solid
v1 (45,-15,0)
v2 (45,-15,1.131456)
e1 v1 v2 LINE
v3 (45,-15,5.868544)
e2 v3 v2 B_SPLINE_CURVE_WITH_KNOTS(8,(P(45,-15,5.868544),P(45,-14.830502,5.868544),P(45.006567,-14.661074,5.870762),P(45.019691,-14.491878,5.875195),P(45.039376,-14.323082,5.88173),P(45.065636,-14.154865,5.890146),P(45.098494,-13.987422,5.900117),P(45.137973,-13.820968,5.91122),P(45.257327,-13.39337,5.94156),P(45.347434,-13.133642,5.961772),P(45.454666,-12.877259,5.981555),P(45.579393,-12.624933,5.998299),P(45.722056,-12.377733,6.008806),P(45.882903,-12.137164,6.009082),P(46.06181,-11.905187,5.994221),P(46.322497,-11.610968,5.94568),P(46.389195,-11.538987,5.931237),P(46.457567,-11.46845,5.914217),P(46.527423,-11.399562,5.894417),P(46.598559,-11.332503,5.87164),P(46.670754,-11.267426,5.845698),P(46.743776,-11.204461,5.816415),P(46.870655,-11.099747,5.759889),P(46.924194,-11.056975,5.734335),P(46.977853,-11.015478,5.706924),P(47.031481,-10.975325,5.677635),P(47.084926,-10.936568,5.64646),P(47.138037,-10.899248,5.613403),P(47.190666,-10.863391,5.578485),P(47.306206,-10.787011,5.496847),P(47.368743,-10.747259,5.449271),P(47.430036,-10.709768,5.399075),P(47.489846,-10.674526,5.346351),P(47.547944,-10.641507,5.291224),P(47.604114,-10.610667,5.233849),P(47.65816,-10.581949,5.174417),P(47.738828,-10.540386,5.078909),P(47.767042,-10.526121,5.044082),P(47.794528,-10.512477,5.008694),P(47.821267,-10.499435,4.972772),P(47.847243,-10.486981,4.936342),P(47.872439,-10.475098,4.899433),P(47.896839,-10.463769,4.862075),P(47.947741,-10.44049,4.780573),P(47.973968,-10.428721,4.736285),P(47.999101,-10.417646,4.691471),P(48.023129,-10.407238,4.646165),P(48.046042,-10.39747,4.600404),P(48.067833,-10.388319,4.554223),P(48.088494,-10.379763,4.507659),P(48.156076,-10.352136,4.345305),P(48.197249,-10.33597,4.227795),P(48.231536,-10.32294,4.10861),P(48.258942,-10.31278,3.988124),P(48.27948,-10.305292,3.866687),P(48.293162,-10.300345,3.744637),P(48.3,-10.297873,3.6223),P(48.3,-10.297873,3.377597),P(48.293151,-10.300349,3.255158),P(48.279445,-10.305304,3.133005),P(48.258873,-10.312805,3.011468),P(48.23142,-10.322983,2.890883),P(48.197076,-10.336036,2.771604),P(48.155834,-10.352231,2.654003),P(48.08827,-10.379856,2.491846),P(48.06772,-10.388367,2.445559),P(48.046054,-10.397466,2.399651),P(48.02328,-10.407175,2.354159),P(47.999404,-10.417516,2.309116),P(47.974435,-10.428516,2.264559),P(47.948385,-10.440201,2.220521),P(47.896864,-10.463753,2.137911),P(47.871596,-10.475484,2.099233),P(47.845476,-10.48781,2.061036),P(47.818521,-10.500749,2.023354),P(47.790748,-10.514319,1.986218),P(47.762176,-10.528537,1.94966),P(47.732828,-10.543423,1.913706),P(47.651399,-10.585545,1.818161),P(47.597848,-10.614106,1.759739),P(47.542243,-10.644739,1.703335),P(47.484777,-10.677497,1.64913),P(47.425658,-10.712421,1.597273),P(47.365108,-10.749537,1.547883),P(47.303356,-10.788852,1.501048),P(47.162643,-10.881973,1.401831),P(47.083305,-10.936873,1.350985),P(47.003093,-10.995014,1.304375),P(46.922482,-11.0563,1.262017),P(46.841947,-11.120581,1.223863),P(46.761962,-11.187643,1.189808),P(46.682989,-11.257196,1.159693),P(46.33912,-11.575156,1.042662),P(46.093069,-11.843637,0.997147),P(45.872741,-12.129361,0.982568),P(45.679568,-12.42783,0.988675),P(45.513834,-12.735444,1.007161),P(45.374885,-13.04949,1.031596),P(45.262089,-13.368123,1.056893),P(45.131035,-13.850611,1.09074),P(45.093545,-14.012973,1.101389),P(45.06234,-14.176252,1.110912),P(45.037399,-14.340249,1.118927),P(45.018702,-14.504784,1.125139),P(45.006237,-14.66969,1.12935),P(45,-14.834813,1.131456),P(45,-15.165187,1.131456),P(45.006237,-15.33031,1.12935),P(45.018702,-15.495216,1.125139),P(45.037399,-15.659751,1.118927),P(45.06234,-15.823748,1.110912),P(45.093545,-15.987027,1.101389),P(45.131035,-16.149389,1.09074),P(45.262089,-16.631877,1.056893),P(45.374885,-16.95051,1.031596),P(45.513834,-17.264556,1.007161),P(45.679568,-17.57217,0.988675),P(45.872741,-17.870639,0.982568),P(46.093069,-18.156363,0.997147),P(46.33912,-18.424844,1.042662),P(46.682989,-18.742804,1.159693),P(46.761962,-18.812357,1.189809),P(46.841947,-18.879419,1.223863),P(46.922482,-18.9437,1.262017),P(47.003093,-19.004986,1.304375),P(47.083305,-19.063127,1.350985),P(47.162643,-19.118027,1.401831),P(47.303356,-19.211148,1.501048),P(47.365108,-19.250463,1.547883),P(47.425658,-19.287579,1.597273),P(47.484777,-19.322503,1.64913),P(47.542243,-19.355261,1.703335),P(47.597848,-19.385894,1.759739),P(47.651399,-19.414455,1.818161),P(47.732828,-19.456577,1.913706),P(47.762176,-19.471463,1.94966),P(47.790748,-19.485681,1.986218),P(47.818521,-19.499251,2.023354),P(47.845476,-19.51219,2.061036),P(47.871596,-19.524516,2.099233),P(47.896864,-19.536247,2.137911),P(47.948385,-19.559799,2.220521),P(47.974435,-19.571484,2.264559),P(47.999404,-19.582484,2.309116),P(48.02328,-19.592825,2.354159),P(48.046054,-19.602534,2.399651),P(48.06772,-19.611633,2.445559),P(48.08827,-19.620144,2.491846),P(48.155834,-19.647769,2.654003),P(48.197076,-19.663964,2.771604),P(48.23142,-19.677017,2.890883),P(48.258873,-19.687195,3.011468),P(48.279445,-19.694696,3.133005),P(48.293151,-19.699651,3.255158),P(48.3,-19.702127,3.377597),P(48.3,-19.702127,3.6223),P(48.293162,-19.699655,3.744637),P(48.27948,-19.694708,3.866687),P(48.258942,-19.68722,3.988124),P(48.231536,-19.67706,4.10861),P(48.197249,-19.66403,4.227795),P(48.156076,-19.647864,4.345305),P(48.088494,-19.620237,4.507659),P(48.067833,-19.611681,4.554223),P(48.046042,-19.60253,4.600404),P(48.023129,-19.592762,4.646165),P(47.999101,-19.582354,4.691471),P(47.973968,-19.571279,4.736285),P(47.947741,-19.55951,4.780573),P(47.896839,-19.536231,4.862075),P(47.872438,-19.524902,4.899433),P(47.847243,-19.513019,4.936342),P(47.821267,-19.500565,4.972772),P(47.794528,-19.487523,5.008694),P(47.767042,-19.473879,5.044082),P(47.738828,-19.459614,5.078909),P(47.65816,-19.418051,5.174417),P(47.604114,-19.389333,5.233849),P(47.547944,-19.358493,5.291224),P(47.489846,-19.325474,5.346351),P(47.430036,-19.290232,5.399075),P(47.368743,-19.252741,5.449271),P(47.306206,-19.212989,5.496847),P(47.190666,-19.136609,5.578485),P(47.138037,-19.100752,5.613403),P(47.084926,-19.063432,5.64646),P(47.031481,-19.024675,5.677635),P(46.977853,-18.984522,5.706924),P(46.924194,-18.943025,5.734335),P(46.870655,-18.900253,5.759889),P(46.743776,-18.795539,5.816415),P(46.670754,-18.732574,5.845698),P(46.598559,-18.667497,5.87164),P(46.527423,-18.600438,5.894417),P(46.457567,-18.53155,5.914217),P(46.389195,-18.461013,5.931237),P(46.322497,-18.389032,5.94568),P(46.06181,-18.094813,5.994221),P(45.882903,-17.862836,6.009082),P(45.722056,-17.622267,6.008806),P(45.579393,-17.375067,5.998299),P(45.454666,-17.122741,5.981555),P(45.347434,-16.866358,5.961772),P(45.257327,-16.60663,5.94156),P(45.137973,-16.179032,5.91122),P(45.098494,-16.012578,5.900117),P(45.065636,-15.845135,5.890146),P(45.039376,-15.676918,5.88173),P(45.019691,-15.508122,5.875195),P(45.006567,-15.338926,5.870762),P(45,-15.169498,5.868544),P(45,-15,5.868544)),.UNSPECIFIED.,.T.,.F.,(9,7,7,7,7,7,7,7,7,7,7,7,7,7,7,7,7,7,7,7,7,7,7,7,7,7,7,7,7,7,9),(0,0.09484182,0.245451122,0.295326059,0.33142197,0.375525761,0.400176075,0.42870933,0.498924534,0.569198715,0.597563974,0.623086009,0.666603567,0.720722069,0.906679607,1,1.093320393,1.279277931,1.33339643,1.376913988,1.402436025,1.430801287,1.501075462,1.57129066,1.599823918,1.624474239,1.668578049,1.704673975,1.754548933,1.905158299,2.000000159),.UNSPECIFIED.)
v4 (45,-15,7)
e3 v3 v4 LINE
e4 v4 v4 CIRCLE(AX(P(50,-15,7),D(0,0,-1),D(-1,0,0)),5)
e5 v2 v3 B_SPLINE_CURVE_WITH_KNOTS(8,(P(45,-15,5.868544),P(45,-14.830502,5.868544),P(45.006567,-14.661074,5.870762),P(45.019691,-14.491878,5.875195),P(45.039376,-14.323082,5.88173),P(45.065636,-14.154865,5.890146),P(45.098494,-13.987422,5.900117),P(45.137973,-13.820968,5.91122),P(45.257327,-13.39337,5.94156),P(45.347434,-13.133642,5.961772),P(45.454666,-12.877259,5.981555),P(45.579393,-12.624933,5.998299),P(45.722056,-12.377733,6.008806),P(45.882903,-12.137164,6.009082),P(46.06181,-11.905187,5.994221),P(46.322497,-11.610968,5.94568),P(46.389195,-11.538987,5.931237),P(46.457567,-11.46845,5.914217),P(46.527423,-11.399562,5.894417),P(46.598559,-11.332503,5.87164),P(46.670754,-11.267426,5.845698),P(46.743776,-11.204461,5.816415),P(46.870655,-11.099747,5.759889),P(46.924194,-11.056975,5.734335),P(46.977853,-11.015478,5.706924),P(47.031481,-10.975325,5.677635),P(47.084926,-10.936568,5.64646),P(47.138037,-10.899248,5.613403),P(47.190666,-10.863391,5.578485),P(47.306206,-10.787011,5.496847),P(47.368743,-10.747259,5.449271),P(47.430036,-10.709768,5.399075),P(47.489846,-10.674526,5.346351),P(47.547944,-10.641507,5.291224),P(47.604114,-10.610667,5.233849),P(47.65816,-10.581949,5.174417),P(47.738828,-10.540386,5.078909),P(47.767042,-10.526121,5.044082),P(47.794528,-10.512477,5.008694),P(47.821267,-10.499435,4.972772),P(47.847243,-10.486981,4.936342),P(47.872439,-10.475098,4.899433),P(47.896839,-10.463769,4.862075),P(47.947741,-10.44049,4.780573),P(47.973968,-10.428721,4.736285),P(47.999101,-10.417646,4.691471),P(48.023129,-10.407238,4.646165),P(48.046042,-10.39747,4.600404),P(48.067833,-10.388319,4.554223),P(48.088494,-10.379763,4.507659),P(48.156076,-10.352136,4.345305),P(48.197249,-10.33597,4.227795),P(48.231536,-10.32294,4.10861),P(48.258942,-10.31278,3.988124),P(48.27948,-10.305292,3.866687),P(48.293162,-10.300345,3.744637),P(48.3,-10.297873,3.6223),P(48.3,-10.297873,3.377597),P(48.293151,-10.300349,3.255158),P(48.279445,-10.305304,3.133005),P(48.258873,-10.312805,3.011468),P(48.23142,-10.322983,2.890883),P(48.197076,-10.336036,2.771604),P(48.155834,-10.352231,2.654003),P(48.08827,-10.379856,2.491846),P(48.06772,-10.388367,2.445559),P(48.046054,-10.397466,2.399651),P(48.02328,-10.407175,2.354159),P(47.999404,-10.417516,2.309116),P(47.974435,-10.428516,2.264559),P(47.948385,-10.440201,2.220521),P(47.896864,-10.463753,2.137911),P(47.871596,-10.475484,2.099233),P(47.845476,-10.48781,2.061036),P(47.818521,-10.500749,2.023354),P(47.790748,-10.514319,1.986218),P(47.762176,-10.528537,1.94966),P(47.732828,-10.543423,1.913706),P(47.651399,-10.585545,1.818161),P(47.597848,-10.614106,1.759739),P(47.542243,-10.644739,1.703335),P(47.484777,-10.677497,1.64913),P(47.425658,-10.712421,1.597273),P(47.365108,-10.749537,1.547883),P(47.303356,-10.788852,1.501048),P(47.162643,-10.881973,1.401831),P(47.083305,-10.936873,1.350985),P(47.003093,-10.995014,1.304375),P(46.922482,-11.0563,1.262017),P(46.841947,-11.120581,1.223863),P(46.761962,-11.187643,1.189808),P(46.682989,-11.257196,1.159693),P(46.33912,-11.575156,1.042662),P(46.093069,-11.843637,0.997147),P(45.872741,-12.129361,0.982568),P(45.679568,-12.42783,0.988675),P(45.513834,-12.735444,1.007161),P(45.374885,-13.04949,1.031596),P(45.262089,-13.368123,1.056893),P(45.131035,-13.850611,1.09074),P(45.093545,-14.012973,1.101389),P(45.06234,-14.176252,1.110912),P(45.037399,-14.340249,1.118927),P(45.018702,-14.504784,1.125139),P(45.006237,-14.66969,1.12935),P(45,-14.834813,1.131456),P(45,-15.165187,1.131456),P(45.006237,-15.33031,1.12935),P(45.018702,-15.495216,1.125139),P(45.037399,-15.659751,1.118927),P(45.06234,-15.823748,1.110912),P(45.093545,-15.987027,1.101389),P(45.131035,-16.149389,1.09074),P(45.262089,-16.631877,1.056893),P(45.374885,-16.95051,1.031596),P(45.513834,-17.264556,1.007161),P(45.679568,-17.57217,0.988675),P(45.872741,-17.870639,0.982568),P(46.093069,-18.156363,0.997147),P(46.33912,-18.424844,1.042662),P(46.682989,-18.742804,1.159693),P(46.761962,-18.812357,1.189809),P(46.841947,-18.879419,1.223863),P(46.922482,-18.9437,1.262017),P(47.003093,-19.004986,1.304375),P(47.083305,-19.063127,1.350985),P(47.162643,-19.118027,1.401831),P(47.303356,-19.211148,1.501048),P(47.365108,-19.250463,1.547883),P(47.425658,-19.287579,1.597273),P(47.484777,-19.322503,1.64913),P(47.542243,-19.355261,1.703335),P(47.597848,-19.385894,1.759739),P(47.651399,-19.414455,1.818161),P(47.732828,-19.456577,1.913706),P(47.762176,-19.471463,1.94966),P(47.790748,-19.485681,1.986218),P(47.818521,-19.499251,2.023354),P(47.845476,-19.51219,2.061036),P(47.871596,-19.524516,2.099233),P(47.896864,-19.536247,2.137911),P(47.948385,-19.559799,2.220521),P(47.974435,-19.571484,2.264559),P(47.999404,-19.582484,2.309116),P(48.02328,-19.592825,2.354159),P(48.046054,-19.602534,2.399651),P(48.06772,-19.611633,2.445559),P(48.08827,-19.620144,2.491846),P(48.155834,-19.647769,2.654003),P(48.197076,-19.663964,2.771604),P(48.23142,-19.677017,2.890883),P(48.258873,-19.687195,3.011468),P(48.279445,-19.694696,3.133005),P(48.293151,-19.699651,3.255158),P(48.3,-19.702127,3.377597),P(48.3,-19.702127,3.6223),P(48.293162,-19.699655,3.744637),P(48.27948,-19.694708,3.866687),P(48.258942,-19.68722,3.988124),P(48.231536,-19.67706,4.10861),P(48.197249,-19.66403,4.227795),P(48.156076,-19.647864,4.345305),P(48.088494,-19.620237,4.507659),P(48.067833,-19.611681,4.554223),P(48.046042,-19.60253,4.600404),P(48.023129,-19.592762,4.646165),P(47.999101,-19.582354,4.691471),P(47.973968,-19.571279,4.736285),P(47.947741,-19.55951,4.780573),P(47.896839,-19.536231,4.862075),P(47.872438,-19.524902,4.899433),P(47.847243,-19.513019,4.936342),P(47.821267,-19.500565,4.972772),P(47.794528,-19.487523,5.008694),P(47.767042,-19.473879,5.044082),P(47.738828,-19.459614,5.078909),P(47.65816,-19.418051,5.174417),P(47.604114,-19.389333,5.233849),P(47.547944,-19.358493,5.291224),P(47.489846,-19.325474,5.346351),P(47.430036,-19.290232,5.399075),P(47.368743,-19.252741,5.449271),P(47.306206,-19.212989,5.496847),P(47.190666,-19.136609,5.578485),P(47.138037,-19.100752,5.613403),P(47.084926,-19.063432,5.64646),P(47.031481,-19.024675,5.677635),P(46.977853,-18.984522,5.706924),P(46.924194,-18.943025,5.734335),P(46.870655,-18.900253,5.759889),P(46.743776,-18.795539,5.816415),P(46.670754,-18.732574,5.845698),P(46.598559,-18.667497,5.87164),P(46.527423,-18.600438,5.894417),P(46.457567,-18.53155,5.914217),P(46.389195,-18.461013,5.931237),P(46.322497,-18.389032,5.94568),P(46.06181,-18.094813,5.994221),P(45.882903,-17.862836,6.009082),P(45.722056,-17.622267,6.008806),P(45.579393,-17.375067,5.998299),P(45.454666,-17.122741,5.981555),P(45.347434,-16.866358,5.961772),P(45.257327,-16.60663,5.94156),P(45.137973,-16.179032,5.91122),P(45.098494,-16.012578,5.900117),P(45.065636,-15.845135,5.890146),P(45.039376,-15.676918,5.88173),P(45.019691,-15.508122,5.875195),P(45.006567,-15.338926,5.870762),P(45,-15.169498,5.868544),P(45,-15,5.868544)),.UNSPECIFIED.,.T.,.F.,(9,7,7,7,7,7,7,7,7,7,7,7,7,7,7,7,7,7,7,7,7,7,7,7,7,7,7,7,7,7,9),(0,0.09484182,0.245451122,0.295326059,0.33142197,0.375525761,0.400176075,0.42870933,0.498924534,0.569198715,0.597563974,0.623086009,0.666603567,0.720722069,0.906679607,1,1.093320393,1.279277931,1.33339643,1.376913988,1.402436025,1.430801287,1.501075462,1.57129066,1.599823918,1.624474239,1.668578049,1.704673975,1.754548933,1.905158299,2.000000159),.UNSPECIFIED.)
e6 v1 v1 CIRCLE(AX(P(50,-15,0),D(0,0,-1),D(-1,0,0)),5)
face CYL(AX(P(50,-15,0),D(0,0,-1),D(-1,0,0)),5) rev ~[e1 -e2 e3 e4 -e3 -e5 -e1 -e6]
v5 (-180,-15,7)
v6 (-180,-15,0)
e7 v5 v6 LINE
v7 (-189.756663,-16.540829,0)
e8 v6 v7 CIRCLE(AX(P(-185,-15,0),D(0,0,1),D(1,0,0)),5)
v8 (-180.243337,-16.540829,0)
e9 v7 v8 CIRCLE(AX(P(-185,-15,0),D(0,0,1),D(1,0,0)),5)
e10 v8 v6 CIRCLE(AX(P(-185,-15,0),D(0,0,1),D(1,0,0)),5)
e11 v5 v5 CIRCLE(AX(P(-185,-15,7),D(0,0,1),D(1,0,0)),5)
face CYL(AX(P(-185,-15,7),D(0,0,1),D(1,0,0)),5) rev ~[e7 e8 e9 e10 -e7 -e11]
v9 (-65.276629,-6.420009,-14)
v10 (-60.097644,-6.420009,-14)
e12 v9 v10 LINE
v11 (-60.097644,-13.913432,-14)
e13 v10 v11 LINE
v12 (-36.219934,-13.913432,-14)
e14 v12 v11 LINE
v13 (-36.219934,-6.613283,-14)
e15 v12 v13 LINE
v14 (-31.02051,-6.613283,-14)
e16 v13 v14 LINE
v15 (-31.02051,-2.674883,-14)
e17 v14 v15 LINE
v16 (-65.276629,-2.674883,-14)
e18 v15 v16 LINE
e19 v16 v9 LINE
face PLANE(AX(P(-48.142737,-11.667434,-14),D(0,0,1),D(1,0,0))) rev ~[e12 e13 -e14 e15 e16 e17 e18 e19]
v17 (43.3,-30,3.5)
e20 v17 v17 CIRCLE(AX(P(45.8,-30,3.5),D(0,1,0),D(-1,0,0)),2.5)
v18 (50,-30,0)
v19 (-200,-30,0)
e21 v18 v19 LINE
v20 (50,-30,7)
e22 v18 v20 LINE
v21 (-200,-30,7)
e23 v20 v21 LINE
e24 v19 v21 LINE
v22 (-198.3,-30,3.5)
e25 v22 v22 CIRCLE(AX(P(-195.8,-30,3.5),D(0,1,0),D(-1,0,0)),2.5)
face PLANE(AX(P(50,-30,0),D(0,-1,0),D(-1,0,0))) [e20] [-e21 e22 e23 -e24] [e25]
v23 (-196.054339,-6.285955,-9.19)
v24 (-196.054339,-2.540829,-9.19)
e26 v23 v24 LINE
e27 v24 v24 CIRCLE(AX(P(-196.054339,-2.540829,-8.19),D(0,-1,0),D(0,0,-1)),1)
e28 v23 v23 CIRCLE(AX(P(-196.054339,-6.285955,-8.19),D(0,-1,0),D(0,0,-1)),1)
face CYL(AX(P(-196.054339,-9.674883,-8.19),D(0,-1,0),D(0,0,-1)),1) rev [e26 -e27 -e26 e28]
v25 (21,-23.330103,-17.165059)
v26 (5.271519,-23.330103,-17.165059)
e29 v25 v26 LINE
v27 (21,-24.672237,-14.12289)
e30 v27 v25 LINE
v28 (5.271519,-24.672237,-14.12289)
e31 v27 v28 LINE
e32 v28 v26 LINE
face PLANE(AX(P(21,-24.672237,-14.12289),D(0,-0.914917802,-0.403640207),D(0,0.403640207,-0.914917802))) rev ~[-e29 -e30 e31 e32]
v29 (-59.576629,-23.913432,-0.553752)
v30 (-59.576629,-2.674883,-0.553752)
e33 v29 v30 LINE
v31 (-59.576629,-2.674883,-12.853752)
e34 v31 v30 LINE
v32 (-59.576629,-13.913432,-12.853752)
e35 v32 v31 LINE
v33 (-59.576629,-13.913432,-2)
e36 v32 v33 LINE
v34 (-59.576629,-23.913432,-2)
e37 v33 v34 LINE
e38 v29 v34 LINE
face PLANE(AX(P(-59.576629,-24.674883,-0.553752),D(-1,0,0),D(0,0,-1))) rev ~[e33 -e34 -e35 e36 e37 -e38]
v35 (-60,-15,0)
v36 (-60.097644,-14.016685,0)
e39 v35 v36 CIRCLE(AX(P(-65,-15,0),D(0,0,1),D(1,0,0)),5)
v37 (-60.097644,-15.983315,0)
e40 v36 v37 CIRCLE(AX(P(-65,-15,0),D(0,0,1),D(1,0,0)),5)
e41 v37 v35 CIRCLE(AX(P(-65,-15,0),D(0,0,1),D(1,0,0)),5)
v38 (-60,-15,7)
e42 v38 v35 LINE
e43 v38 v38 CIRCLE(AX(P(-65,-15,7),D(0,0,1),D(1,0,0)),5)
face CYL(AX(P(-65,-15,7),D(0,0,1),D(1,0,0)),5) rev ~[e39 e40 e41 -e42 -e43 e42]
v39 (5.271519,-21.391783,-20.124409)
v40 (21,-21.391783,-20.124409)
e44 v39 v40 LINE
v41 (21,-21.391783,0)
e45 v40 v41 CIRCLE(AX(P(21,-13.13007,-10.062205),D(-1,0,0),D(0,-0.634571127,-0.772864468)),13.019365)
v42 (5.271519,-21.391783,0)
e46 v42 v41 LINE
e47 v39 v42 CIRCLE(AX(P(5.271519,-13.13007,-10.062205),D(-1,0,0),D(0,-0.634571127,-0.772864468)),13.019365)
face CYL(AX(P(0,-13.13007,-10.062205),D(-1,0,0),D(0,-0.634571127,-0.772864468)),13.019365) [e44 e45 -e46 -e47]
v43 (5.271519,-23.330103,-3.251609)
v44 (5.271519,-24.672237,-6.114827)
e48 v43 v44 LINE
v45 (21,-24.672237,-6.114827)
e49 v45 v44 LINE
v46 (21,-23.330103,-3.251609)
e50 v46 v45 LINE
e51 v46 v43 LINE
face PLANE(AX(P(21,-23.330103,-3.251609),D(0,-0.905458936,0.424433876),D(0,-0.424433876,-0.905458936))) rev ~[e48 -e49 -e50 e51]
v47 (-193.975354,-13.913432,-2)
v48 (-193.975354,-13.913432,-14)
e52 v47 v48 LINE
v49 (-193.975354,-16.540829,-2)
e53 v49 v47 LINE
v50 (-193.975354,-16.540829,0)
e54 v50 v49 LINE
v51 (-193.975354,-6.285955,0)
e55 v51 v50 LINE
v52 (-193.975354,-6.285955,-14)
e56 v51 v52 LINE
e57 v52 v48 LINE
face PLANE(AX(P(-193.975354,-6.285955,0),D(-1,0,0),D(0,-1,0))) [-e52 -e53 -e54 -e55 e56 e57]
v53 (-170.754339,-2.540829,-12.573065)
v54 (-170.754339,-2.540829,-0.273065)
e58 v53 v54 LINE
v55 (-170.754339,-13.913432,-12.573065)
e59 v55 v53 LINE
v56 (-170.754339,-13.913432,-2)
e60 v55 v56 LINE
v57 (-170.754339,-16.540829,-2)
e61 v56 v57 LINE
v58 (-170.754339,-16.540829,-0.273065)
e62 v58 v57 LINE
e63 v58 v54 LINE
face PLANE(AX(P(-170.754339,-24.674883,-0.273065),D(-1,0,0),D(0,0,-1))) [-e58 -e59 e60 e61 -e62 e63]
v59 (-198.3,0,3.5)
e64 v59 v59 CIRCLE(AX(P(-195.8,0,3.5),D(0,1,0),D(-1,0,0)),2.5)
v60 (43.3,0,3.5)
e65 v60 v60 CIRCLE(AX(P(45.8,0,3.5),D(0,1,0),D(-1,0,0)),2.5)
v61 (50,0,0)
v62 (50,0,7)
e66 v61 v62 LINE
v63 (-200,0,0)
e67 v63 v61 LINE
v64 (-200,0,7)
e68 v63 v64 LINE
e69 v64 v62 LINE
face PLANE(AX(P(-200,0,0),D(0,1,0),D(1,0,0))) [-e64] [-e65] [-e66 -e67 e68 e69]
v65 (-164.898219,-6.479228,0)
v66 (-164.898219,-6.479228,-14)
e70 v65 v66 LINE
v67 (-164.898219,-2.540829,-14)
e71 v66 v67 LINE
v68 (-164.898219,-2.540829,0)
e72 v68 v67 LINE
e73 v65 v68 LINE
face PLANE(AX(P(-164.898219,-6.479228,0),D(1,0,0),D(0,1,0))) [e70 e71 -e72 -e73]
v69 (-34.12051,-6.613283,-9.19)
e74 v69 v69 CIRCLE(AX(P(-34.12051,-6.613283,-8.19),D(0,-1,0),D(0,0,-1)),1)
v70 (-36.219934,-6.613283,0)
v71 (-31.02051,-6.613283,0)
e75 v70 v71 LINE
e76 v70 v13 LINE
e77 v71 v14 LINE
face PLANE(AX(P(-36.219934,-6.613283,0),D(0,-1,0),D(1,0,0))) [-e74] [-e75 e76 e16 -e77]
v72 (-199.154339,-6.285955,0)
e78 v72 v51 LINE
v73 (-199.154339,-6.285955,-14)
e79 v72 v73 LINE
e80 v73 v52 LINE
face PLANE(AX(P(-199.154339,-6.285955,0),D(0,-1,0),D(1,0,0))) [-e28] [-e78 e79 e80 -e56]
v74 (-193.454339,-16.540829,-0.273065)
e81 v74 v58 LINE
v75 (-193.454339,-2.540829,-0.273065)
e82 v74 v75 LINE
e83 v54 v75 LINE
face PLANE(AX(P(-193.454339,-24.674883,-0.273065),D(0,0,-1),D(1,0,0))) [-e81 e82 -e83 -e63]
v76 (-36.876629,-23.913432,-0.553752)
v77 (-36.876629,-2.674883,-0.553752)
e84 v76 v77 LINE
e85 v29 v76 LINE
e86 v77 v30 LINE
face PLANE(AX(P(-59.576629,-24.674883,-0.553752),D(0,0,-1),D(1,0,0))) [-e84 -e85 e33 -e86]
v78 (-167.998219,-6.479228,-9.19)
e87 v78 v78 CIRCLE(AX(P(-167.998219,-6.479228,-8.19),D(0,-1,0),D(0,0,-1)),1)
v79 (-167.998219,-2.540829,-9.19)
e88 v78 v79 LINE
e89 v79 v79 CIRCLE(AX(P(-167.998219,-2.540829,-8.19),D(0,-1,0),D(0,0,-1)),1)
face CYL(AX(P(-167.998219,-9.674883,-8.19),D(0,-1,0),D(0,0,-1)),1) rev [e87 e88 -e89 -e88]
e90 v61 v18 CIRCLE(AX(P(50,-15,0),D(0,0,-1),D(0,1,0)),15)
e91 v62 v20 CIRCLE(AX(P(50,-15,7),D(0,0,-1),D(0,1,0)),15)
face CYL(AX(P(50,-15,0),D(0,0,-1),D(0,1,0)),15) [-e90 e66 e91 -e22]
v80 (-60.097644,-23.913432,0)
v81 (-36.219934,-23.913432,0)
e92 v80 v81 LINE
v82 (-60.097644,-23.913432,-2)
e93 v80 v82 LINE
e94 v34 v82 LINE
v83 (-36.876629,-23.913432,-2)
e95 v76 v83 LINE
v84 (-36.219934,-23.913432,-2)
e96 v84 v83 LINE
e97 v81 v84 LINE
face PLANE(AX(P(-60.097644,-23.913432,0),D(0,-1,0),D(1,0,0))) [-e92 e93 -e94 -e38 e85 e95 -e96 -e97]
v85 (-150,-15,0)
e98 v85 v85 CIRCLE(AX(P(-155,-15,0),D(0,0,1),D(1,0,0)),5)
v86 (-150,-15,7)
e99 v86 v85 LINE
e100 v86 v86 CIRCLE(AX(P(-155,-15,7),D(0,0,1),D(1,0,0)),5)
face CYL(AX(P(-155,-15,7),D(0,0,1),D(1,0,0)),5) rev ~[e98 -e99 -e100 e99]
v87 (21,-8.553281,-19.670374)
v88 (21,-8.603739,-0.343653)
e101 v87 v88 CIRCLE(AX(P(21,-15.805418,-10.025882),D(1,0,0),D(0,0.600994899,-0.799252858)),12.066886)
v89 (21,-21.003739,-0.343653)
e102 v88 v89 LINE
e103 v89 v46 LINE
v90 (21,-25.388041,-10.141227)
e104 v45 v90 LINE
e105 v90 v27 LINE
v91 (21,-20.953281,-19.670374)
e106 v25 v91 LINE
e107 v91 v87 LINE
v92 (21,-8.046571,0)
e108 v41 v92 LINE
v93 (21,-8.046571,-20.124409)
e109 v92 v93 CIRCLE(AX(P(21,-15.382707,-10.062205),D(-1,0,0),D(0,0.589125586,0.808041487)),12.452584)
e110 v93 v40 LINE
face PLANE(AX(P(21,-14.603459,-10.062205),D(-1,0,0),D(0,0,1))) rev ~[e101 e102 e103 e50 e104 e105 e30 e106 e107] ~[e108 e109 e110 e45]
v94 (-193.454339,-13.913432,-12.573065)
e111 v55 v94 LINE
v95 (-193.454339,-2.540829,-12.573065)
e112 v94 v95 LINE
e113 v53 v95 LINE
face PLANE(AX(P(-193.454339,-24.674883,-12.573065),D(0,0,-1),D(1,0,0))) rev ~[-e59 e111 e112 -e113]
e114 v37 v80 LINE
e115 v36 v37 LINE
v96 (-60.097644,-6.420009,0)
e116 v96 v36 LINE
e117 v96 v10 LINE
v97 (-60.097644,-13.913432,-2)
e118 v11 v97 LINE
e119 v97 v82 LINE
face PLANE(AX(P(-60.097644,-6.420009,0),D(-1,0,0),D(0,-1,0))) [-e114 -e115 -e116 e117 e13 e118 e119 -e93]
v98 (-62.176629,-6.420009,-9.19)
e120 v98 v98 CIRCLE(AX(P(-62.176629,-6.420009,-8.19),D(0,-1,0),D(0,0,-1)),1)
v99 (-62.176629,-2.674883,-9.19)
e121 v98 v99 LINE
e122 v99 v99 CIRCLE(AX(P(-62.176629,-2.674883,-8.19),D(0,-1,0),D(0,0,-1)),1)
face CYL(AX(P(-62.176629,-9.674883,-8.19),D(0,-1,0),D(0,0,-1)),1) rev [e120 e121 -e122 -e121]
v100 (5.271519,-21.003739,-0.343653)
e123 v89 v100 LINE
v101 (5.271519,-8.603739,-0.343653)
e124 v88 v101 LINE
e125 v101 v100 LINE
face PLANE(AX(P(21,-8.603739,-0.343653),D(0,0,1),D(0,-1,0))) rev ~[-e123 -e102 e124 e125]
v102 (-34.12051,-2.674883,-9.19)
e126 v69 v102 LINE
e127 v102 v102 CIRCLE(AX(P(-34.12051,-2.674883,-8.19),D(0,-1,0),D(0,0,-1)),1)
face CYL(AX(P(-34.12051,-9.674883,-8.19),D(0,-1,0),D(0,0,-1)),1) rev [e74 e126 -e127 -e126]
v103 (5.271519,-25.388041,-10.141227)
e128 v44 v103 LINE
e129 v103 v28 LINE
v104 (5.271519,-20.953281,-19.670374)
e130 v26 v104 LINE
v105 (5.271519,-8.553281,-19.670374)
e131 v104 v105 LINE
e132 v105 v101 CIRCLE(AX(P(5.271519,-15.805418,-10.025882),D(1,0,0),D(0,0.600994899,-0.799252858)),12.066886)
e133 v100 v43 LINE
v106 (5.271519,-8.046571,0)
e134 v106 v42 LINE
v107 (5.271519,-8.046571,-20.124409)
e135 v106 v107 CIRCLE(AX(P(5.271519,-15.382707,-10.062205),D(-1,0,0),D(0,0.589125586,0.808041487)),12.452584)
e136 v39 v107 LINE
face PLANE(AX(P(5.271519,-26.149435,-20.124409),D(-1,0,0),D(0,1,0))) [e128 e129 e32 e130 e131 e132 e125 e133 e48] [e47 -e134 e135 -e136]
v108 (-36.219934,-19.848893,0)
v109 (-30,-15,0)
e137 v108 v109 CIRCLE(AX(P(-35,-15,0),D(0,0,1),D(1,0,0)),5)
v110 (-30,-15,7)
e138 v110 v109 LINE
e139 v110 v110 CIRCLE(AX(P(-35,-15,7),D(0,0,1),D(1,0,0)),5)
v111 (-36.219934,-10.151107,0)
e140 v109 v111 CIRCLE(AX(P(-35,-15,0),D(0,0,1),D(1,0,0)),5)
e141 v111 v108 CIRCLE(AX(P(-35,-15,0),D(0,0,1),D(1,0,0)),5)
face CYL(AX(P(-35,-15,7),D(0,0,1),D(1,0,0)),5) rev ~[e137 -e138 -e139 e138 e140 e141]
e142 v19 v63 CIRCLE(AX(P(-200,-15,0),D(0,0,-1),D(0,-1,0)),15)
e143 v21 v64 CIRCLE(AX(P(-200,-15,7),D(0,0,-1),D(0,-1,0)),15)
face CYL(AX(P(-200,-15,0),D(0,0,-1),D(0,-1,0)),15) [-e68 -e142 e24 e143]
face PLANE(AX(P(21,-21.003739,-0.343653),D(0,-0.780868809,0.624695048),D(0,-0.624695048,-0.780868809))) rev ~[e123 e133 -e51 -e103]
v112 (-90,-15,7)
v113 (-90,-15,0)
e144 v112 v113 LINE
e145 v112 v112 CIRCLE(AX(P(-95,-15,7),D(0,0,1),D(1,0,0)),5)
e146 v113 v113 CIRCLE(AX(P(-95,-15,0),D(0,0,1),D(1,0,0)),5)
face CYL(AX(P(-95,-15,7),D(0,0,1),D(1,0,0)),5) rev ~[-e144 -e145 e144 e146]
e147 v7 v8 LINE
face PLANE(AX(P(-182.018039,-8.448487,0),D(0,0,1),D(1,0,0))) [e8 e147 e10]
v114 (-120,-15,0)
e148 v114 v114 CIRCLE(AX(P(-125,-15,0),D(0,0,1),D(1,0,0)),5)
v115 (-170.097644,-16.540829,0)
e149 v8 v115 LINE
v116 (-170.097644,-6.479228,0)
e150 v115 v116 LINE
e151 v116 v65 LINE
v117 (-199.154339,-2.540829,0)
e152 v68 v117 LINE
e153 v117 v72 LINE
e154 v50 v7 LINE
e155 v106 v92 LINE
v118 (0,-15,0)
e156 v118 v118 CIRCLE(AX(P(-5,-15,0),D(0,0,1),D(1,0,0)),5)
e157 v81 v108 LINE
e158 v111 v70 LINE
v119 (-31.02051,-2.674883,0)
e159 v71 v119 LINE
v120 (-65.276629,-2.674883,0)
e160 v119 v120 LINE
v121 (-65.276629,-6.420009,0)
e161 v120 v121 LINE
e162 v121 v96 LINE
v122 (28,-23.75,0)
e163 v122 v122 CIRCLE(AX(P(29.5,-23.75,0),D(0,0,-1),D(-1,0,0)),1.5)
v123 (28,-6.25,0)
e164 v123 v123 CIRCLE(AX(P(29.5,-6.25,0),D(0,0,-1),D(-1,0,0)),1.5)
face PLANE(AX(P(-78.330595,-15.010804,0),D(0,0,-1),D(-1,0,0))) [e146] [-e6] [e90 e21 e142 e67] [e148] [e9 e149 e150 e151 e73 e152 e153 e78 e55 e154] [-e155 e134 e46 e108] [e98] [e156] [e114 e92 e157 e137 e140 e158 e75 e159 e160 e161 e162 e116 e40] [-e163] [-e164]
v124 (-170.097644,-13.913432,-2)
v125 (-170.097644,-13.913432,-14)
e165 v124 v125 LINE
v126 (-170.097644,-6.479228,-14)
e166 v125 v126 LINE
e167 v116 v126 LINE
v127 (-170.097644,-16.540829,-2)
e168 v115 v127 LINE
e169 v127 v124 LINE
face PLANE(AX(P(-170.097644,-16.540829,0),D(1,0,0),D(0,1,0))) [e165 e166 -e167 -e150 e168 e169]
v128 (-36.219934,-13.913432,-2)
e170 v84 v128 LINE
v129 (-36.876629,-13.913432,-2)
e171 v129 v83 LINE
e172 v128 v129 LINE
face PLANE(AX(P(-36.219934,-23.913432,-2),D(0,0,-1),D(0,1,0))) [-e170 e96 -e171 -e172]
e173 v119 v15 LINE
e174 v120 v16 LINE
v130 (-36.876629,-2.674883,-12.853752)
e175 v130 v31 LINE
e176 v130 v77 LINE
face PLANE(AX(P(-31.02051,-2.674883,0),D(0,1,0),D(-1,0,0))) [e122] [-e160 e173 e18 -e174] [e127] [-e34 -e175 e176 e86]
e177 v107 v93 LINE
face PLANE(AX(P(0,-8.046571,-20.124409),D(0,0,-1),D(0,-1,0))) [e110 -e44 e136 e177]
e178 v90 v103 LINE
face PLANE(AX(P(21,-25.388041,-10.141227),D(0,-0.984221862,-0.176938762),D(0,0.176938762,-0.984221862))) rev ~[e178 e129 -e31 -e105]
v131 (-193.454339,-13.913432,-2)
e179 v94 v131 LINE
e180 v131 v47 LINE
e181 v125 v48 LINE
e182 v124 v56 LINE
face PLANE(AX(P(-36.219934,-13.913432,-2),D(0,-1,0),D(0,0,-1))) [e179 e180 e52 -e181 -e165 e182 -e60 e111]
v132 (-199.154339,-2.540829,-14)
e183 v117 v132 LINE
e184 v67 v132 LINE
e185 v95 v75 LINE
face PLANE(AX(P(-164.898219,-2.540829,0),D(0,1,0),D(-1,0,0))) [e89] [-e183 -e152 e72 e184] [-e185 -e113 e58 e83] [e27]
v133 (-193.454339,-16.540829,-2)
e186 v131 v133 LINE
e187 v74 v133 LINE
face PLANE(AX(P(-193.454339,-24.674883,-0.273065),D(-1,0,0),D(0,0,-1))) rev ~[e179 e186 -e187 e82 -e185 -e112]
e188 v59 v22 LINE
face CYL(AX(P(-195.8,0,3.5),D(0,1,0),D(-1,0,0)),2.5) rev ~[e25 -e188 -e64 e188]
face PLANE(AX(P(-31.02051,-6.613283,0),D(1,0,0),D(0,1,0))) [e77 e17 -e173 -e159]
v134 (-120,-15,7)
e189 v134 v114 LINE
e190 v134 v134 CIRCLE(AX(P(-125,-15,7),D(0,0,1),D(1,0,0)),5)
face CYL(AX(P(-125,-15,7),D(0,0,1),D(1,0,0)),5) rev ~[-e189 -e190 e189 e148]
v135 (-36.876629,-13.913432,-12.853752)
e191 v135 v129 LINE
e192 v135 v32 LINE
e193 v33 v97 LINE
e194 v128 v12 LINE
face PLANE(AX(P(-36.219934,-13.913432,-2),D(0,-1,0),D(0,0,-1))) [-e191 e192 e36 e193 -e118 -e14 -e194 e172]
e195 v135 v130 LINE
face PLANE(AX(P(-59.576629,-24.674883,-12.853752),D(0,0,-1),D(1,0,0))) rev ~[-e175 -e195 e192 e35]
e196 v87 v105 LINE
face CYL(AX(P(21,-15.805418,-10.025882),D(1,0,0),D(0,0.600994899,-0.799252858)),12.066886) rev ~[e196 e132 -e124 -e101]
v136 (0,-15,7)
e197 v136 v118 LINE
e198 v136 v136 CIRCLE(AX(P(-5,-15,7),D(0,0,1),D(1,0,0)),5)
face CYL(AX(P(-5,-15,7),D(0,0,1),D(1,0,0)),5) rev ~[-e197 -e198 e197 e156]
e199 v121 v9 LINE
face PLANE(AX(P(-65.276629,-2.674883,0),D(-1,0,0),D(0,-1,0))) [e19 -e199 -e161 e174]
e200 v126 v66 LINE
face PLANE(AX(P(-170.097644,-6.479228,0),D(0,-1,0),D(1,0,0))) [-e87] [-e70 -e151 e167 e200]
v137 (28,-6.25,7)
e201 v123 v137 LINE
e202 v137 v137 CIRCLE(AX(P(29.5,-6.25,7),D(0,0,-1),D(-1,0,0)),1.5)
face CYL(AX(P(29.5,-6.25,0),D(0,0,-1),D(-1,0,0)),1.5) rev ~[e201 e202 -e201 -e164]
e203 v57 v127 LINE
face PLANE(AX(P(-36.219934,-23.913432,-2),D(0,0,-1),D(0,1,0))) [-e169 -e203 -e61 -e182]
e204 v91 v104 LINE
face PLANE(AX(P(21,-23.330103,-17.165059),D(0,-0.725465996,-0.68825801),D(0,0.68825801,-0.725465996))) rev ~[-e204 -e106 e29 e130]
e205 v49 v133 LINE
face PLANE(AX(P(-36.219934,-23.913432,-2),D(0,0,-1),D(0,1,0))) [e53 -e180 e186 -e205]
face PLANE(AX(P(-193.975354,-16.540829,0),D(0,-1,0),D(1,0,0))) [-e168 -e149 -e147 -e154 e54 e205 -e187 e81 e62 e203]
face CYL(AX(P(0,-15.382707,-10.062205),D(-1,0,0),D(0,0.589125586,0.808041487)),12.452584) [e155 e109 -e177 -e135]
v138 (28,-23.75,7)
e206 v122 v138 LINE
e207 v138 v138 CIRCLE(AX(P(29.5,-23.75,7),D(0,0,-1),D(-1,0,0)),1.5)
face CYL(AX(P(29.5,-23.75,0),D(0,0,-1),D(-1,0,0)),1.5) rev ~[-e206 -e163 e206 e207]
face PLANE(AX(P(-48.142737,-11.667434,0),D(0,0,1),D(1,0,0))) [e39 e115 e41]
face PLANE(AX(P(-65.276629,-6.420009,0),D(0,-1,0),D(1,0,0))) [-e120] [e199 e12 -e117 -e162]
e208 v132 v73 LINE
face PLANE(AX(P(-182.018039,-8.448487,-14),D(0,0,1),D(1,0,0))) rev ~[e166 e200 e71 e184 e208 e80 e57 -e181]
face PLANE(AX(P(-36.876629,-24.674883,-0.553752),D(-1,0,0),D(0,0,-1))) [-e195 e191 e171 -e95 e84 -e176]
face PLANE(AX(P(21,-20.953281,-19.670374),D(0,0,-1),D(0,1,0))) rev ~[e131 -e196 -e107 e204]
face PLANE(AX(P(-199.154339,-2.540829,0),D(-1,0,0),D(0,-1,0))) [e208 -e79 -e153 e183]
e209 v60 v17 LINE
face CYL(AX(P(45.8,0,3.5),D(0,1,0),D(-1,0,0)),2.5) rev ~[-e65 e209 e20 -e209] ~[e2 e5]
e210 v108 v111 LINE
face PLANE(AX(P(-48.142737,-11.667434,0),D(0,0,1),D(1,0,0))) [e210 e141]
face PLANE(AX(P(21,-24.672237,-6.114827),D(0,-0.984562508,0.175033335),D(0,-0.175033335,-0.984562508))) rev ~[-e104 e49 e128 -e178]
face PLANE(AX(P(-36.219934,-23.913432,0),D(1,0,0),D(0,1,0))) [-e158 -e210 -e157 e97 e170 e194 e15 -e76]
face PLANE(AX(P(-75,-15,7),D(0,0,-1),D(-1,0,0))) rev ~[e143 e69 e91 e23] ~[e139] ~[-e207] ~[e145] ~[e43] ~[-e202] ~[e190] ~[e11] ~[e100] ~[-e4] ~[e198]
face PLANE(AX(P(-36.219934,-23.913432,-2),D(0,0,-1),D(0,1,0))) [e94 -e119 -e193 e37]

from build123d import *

# Parameters (mm, degrees)
BOSS_EXTRUDE1_DEPTH     = 7
SKETCH2_R               = 5
CUT_EXTRUDE1_DEPTH      = 7
LPATTERN1_COUNT         = 7
LPATTERN1_PITCH         = 30
SKETCH6_R               = 5
CUT_EXTRUDE2_DEPTH      = 10
BOSS_EXTRUDE2_DEPTH     = 21
CUT_EXTRUDE3_DEPTH      = 21
CUT_EXTRUDE4_REACH      = 220.014
SKETCH9_R               = 1.5
CUT_EXTRUDE5_REACH      = 220.771
SKETCH10_W              = 5.271518542
SKETCH10_H              = 23.219312301
BOSS_EXTRUDE3_DEPTH     = 14
CUT_EXTRUDE6_DEPTH      = 1
CUT_EXTRUDE6_DEPTH_BACK = 22
SKETCH12_W              = 22.7
SKETCH12_H              = 12.3
CUT_EXTRUDE7_DEPTH      = 7
CUT_EXTRUDE7_DEPTH_BACK = 7
SKETCH13_R              = 1
CUT_EXTRUDE8_REACH      = 184.393
SKETCH14_W              = 12
SKETCH14_H              = 10
CUT_EXTRUDE9_REACH      = 220.014
SKETCH15_R              = 2.5


with BuildPart() as part:
    # Sketch1 → Boss-Extrude1 (new body)
    with BuildSketch(Plane.XY):
        with BuildLine():
            Line((-200, 0), (50, 0))
            ThreePointArc((50, 0), (65, -15), (50, -30))
            Line((50, -30), (-200, -30))
            ThreePointArc((-200, -30), (-215, -15), (-200, 0))
        make_face()
    extrude(amount=BOSS_EXTRUDE1_DEPTH)

    # Sketch2 → Cut-Extrude1 (cut)
    with BuildSketch(Plane.XY.offset(7)):
        with Locations((-185, -15)):
            Circle(SKETCH2_R)
    cut_extrude1 = extrude(amount=-CUT_EXTRUDE1_DEPTH, mode=Mode.SUBTRACT)

    # LPattern1: Cut-Extrude1 ×7
    with Locations(*[(i * LPATTERN1_PITCH, 0, 0) for i in range(1, LPATTERN1_COUNT)]):
        add(cut_extrude1, mode=Mode.SUBTRACT)

    # Sketch6 → Cut-Extrude2 (cut)
    with BuildSketch(Plane(origin=(0, 0, 0), x_dir=(-1, 0, 0), z_dir=(0, 0, -1))):
        with Locations((-50, -15)):
            Circle(SKETCH6_R)
    extrude(amount=-CUT_EXTRUDE2_DEPTH, mode=Mode.SUBTRACT)

    # Sketch7 → Boss-Extrude2 (add)
    with BuildSketch(Plane(origin=(0, 0, 0), x_dir=(0, 0, -1), z_dir=(1, 0, 0))):
        with BuildLine():
            Line((20.124409349, -8.046570755), (20.124409349, -21.391782887))
            ThreePointArc((20.124409349, -21.391782887), (10.062204675, -26.149434806), (0, -21.391782887))
            Line((0, -21.391782887), (0, -8.046570755))
            ThreePointArc((0, -8.046570755), (10.062204675, -2.930122505), (20.124409349, -8.046570755))
        make_face()
    extrude(amount=BOSS_EXTRUDE2_DEPTH)

    # Sketch8 → Cut-Extrude3 (cut)
    with BuildSketch(Plane(origin=(21, 0, 0), x_dir=(0, 0, -1), z_dir=(1, 0, 0))):
        with BuildLine():
            Line((0.343653188, -8.603738845), (0.343653188, -21.003738845))
            Line((0.343653188, -21.003738845), (3.251608919, -23.33010343))
            Line((3.251608919, -23.33010343), (6.11482687, -24.672236845))
            Line((6.11482687, -24.672236845), (10.141227113, -25.388041332))
            Line((10.141227113, -25.388041332), (14.122889575, -24.672236845))
            Line((14.122889575, -24.672236845), (17.165058648, -23.33010343))
            Line((17.165058648, -23.33010343), (19.670374355, -20.953281344))
            Line((19.670374355, -20.953281344), (19.670374355, -8.553281344))
            ThreePointArc((19.670374355, -8.553281344), (9.994377841, -3.738573545), (0.343653188, -8.603738845))
        make_face()
    extrude(amount=-CUT_EXTRUDE3_DEPTH, mode=Mode.SUBTRACT)

    # Sketch9 → Cut-Extrude4 (cut, up to next)
    with BuildSketch(Plane(origin=(0, 0, 0), x_dir=(-1, 0, 0), z_dir=(0, 0, -1)), mode=Mode.PRIVATE) as cut_extrude4_sk1:
        with Locations((-29.5, -6.25)):
            Circle(SKETCH9_R)
    cut_extrude4_tool1 = extrude(cut_extrude4_sk1.sketch, amount=-CUT_EXTRUDE4_REACH, mode=Mode.PRIVATE) & part.part
    # Sketch9 → Cut-Extrude4 (cut, up to next)
    with BuildSketch(Plane(origin=(0, 0, 0), x_dir=(-1, 0, 0), z_dir=(0, 0, -1)), mode=Mode.PRIVATE) as cut_extrude4_sk2:
        with Locations((-29.5, -23.75)):
            Circle(SKETCH9_R)
    cut_extrude4_tool2 = extrude(cut_extrude4_sk2.sketch, amount=-CUT_EXTRUDE4_REACH, mode=Mode.PRIVATE) & part.part
    add(cut_extrude4_tool1.solids().sort_by_distance((29.5, -6.25, 0))[0], mode=Mode.SUBTRACT)
    add(cut_extrude4_tool2.solids().sort_by_distance((29.5, -23.75, 0))[0], mode=Mode.SUBTRACT)

    # Cut-Extrude5: up to this face of the body (flat: up to its plane)
    cut_extrude5_end = Plane(part.part.faces().sort_by_distance((-78.33059512, -15.01080435, 0))[0])
    # Sketch10 → Cut-Extrude5 (cut, up to the picked face)
    with BuildSketch(Plane(origin=(0, 0, -20.124409349), x_dir=(-1, 0, 0), z_dir=(0, 0, -1)), mode=Mode.PRIVATE) as cut_extrude5_sk1:
        with Locations((-2.635759271, -14.539778656)):
            Rectangle(SKETCH10_W, SKETCH10_H)
    cut_extrude5_tool1 = split(extrude(cut_extrude5_sk1.sketch, amount=-CUT_EXTRUDE5_REACH, mode=Mode.PRIVATE), bisect_by=cut_extrude5_end, keep=Keep.BOTH, mode=Mode.PRIVATE)
    add(cut_extrude5_tool1.solids().sort_by(Axis((2.635759, -14.539779, -20.124409), (0, 0, 1)))[0], mode=Mode.SUBTRACT)

    # Sketch11 → Boss-Extrude3 (add)
    with BuildSketch(Plane(origin=(0, 0, 0), x_dir=(-1, 0, 0), z_dir=(0, 0, -1))):
        Polygon((60.097644306, -6.420008597), (60.097644306, -23.913431972), (36.21993437, -23.913431972), (36.21993437, -6.613282571), (31.020509523, -6.613282571), (31.020509523, -2.674883318), (65.276628567, -2.674883318), (65.276628567, -6.420008597), align=None)
        Polygon((193.975354243, -6.285954501), (193.975354243, -16.540829221), (170.097644306, -16.540829221), (170.097644306, -6.479228475), (164.898219459, -6.479228475), (164.898219459, -2.540829221), (199.154338504, -2.540829221), (199.154338504, -6.285954501), align=None)
    extrude(amount=BOSS_EXTRUDE3_DEPTH)

    # Sketch12 → Cut-Extrude6 (cut, two sides: drawn at the far end of the back side and taken through both)
    with BuildSketch(Plane(origin=(0, -2.674883318, 0), x_dir=(1, 0, 0), z_dir=(0, 1, 0)).offset(-CUT_EXTRUDE6_DEPTH_BACK)):
        with Locations((-48.226628567, 6.703751831)):
            Rectangle(SKETCH12_W, SKETCH12_H)
        with Locations((-182.104338504, 6.42306456)):
            Rectangle(SKETCH12_W, SKETCH12_H)
    extrude(amount=CUT_EXTRUDE6_DEPTH + CUT_EXTRUDE6_DEPTH_BACK, mode=Mode.SUBTRACT)

    # Sketch13 → Cut-Extrude7 (cut, two sides: drawn at the far end of the back side and taken through both)
    with BuildSketch(Plane(origin=(0, -2.674883318, 0), x_dir=(1, 0, 0), z_dir=(0, 1, 0)).offset(-CUT_EXTRUDE7_DEPTH_BACK)):
        with Locations(Location((-167.998219459, 8.19, 0), (0, 0, 90))):
            Circle(SKETCH13_R)
        with Locations(Location((-196.054338504, 8.19, 0), (0, 0, 90))):
            Circle(SKETCH13_R)
        with Locations(Location((-62.176628567, 8.19, 0), (0, 0, 90))):
            Circle(SKETCH13_R)
        with Locations(Location((-34.120509523, 8.19, 0), (0, 0, 90))):
            Circle(SKETCH13_R)
    extrude(amount=CUT_EXTRUDE7_DEPTH + CUT_EXTRUDE7_DEPTH_BACK, mode=Mode.SUBTRACT)

    # Cut-Extrude8: up to this face of the body (flat: up to its plane)
    cut_extrude8_end = Plane(part.part.faces().sort_by_distance((-193.975354243, -11.413391861, -7))[0])
    # Sketch14 → Cut-Extrude8 (cut, up to the picked face)
    with BuildSketch(Plane(origin=(-36.21993437, 0, 0), x_dir=(0, 0, -1), z_dir=(1, 0, 0)), mode=Mode.PRIVATE) as cut_extrude8_sk1:
        with Locations((8, -18.913431972)):
            Rectangle(SKETCH14_W, SKETCH14_H)
    cut_extrude8_tool1 = split(extrude(cut_extrude8_sk1.sketch, amount=-CUT_EXTRUDE8_REACH, mode=Mode.PRIVATE), bisect_by=cut_extrude8_end, keep=Keep.BOTH, mode=Mode.PRIVATE)
    add(cut_extrude8_tool1.solids().sort_by(Axis((-36.219934, -18.913432, -8), (-1, 0, 0)))[0], mode=Mode.SUBTRACT)

    # Sketch15 → Cut-Extrude9 (cut, up to next)
    with BuildSketch(Plane(origin=(0, 0, 0), x_dir=(1, 0, 0), z_dir=(0, 1, 0)), mode=Mode.PRIVATE) as cut_extrude9_sk1:
        with Locations(Location((-195.8, -3.5, 0), (0, 0, 180))):
            Circle(SKETCH15_R)
    cut_extrude9_tool1 = extrude(cut_extrude9_sk1.sketch, amount=-CUT_EXTRUDE9_REACH, mode=Mode.PRIVATE) & part.part
    # Sketch15 → Cut-Extrude9 (cut, up to next)
    with BuildSketch(Plane(origin=(0, 0, 0), x_dir=(1, 0, 0), z_dir=(0, 1, 0)), mode=Mode.PRIVATE) as cut_extrude9_sk2:
        with Locations(Location((45.8, -3.5, 0), (0, 0, 180))):
            Circle(SKETCH15_R)
    cut_extrude9_tool2 = extrude(cut_extrude9_sk2.sketch, amount=-CUT_EXTRUDE9_REACH, mode=Mode.PRIVATE) & part.part
    add(cut_extrude9_tool1.solids().sort_by_distance((-195.8, 0, 3.5))[0], mode=Mode.SUBTRACT)
    add(cut_extrude9_tool2.solids().sort_by_distance((45.8, 0, 3.5))[0], mode=Mode.SUBTRACT)


solid = part.part
